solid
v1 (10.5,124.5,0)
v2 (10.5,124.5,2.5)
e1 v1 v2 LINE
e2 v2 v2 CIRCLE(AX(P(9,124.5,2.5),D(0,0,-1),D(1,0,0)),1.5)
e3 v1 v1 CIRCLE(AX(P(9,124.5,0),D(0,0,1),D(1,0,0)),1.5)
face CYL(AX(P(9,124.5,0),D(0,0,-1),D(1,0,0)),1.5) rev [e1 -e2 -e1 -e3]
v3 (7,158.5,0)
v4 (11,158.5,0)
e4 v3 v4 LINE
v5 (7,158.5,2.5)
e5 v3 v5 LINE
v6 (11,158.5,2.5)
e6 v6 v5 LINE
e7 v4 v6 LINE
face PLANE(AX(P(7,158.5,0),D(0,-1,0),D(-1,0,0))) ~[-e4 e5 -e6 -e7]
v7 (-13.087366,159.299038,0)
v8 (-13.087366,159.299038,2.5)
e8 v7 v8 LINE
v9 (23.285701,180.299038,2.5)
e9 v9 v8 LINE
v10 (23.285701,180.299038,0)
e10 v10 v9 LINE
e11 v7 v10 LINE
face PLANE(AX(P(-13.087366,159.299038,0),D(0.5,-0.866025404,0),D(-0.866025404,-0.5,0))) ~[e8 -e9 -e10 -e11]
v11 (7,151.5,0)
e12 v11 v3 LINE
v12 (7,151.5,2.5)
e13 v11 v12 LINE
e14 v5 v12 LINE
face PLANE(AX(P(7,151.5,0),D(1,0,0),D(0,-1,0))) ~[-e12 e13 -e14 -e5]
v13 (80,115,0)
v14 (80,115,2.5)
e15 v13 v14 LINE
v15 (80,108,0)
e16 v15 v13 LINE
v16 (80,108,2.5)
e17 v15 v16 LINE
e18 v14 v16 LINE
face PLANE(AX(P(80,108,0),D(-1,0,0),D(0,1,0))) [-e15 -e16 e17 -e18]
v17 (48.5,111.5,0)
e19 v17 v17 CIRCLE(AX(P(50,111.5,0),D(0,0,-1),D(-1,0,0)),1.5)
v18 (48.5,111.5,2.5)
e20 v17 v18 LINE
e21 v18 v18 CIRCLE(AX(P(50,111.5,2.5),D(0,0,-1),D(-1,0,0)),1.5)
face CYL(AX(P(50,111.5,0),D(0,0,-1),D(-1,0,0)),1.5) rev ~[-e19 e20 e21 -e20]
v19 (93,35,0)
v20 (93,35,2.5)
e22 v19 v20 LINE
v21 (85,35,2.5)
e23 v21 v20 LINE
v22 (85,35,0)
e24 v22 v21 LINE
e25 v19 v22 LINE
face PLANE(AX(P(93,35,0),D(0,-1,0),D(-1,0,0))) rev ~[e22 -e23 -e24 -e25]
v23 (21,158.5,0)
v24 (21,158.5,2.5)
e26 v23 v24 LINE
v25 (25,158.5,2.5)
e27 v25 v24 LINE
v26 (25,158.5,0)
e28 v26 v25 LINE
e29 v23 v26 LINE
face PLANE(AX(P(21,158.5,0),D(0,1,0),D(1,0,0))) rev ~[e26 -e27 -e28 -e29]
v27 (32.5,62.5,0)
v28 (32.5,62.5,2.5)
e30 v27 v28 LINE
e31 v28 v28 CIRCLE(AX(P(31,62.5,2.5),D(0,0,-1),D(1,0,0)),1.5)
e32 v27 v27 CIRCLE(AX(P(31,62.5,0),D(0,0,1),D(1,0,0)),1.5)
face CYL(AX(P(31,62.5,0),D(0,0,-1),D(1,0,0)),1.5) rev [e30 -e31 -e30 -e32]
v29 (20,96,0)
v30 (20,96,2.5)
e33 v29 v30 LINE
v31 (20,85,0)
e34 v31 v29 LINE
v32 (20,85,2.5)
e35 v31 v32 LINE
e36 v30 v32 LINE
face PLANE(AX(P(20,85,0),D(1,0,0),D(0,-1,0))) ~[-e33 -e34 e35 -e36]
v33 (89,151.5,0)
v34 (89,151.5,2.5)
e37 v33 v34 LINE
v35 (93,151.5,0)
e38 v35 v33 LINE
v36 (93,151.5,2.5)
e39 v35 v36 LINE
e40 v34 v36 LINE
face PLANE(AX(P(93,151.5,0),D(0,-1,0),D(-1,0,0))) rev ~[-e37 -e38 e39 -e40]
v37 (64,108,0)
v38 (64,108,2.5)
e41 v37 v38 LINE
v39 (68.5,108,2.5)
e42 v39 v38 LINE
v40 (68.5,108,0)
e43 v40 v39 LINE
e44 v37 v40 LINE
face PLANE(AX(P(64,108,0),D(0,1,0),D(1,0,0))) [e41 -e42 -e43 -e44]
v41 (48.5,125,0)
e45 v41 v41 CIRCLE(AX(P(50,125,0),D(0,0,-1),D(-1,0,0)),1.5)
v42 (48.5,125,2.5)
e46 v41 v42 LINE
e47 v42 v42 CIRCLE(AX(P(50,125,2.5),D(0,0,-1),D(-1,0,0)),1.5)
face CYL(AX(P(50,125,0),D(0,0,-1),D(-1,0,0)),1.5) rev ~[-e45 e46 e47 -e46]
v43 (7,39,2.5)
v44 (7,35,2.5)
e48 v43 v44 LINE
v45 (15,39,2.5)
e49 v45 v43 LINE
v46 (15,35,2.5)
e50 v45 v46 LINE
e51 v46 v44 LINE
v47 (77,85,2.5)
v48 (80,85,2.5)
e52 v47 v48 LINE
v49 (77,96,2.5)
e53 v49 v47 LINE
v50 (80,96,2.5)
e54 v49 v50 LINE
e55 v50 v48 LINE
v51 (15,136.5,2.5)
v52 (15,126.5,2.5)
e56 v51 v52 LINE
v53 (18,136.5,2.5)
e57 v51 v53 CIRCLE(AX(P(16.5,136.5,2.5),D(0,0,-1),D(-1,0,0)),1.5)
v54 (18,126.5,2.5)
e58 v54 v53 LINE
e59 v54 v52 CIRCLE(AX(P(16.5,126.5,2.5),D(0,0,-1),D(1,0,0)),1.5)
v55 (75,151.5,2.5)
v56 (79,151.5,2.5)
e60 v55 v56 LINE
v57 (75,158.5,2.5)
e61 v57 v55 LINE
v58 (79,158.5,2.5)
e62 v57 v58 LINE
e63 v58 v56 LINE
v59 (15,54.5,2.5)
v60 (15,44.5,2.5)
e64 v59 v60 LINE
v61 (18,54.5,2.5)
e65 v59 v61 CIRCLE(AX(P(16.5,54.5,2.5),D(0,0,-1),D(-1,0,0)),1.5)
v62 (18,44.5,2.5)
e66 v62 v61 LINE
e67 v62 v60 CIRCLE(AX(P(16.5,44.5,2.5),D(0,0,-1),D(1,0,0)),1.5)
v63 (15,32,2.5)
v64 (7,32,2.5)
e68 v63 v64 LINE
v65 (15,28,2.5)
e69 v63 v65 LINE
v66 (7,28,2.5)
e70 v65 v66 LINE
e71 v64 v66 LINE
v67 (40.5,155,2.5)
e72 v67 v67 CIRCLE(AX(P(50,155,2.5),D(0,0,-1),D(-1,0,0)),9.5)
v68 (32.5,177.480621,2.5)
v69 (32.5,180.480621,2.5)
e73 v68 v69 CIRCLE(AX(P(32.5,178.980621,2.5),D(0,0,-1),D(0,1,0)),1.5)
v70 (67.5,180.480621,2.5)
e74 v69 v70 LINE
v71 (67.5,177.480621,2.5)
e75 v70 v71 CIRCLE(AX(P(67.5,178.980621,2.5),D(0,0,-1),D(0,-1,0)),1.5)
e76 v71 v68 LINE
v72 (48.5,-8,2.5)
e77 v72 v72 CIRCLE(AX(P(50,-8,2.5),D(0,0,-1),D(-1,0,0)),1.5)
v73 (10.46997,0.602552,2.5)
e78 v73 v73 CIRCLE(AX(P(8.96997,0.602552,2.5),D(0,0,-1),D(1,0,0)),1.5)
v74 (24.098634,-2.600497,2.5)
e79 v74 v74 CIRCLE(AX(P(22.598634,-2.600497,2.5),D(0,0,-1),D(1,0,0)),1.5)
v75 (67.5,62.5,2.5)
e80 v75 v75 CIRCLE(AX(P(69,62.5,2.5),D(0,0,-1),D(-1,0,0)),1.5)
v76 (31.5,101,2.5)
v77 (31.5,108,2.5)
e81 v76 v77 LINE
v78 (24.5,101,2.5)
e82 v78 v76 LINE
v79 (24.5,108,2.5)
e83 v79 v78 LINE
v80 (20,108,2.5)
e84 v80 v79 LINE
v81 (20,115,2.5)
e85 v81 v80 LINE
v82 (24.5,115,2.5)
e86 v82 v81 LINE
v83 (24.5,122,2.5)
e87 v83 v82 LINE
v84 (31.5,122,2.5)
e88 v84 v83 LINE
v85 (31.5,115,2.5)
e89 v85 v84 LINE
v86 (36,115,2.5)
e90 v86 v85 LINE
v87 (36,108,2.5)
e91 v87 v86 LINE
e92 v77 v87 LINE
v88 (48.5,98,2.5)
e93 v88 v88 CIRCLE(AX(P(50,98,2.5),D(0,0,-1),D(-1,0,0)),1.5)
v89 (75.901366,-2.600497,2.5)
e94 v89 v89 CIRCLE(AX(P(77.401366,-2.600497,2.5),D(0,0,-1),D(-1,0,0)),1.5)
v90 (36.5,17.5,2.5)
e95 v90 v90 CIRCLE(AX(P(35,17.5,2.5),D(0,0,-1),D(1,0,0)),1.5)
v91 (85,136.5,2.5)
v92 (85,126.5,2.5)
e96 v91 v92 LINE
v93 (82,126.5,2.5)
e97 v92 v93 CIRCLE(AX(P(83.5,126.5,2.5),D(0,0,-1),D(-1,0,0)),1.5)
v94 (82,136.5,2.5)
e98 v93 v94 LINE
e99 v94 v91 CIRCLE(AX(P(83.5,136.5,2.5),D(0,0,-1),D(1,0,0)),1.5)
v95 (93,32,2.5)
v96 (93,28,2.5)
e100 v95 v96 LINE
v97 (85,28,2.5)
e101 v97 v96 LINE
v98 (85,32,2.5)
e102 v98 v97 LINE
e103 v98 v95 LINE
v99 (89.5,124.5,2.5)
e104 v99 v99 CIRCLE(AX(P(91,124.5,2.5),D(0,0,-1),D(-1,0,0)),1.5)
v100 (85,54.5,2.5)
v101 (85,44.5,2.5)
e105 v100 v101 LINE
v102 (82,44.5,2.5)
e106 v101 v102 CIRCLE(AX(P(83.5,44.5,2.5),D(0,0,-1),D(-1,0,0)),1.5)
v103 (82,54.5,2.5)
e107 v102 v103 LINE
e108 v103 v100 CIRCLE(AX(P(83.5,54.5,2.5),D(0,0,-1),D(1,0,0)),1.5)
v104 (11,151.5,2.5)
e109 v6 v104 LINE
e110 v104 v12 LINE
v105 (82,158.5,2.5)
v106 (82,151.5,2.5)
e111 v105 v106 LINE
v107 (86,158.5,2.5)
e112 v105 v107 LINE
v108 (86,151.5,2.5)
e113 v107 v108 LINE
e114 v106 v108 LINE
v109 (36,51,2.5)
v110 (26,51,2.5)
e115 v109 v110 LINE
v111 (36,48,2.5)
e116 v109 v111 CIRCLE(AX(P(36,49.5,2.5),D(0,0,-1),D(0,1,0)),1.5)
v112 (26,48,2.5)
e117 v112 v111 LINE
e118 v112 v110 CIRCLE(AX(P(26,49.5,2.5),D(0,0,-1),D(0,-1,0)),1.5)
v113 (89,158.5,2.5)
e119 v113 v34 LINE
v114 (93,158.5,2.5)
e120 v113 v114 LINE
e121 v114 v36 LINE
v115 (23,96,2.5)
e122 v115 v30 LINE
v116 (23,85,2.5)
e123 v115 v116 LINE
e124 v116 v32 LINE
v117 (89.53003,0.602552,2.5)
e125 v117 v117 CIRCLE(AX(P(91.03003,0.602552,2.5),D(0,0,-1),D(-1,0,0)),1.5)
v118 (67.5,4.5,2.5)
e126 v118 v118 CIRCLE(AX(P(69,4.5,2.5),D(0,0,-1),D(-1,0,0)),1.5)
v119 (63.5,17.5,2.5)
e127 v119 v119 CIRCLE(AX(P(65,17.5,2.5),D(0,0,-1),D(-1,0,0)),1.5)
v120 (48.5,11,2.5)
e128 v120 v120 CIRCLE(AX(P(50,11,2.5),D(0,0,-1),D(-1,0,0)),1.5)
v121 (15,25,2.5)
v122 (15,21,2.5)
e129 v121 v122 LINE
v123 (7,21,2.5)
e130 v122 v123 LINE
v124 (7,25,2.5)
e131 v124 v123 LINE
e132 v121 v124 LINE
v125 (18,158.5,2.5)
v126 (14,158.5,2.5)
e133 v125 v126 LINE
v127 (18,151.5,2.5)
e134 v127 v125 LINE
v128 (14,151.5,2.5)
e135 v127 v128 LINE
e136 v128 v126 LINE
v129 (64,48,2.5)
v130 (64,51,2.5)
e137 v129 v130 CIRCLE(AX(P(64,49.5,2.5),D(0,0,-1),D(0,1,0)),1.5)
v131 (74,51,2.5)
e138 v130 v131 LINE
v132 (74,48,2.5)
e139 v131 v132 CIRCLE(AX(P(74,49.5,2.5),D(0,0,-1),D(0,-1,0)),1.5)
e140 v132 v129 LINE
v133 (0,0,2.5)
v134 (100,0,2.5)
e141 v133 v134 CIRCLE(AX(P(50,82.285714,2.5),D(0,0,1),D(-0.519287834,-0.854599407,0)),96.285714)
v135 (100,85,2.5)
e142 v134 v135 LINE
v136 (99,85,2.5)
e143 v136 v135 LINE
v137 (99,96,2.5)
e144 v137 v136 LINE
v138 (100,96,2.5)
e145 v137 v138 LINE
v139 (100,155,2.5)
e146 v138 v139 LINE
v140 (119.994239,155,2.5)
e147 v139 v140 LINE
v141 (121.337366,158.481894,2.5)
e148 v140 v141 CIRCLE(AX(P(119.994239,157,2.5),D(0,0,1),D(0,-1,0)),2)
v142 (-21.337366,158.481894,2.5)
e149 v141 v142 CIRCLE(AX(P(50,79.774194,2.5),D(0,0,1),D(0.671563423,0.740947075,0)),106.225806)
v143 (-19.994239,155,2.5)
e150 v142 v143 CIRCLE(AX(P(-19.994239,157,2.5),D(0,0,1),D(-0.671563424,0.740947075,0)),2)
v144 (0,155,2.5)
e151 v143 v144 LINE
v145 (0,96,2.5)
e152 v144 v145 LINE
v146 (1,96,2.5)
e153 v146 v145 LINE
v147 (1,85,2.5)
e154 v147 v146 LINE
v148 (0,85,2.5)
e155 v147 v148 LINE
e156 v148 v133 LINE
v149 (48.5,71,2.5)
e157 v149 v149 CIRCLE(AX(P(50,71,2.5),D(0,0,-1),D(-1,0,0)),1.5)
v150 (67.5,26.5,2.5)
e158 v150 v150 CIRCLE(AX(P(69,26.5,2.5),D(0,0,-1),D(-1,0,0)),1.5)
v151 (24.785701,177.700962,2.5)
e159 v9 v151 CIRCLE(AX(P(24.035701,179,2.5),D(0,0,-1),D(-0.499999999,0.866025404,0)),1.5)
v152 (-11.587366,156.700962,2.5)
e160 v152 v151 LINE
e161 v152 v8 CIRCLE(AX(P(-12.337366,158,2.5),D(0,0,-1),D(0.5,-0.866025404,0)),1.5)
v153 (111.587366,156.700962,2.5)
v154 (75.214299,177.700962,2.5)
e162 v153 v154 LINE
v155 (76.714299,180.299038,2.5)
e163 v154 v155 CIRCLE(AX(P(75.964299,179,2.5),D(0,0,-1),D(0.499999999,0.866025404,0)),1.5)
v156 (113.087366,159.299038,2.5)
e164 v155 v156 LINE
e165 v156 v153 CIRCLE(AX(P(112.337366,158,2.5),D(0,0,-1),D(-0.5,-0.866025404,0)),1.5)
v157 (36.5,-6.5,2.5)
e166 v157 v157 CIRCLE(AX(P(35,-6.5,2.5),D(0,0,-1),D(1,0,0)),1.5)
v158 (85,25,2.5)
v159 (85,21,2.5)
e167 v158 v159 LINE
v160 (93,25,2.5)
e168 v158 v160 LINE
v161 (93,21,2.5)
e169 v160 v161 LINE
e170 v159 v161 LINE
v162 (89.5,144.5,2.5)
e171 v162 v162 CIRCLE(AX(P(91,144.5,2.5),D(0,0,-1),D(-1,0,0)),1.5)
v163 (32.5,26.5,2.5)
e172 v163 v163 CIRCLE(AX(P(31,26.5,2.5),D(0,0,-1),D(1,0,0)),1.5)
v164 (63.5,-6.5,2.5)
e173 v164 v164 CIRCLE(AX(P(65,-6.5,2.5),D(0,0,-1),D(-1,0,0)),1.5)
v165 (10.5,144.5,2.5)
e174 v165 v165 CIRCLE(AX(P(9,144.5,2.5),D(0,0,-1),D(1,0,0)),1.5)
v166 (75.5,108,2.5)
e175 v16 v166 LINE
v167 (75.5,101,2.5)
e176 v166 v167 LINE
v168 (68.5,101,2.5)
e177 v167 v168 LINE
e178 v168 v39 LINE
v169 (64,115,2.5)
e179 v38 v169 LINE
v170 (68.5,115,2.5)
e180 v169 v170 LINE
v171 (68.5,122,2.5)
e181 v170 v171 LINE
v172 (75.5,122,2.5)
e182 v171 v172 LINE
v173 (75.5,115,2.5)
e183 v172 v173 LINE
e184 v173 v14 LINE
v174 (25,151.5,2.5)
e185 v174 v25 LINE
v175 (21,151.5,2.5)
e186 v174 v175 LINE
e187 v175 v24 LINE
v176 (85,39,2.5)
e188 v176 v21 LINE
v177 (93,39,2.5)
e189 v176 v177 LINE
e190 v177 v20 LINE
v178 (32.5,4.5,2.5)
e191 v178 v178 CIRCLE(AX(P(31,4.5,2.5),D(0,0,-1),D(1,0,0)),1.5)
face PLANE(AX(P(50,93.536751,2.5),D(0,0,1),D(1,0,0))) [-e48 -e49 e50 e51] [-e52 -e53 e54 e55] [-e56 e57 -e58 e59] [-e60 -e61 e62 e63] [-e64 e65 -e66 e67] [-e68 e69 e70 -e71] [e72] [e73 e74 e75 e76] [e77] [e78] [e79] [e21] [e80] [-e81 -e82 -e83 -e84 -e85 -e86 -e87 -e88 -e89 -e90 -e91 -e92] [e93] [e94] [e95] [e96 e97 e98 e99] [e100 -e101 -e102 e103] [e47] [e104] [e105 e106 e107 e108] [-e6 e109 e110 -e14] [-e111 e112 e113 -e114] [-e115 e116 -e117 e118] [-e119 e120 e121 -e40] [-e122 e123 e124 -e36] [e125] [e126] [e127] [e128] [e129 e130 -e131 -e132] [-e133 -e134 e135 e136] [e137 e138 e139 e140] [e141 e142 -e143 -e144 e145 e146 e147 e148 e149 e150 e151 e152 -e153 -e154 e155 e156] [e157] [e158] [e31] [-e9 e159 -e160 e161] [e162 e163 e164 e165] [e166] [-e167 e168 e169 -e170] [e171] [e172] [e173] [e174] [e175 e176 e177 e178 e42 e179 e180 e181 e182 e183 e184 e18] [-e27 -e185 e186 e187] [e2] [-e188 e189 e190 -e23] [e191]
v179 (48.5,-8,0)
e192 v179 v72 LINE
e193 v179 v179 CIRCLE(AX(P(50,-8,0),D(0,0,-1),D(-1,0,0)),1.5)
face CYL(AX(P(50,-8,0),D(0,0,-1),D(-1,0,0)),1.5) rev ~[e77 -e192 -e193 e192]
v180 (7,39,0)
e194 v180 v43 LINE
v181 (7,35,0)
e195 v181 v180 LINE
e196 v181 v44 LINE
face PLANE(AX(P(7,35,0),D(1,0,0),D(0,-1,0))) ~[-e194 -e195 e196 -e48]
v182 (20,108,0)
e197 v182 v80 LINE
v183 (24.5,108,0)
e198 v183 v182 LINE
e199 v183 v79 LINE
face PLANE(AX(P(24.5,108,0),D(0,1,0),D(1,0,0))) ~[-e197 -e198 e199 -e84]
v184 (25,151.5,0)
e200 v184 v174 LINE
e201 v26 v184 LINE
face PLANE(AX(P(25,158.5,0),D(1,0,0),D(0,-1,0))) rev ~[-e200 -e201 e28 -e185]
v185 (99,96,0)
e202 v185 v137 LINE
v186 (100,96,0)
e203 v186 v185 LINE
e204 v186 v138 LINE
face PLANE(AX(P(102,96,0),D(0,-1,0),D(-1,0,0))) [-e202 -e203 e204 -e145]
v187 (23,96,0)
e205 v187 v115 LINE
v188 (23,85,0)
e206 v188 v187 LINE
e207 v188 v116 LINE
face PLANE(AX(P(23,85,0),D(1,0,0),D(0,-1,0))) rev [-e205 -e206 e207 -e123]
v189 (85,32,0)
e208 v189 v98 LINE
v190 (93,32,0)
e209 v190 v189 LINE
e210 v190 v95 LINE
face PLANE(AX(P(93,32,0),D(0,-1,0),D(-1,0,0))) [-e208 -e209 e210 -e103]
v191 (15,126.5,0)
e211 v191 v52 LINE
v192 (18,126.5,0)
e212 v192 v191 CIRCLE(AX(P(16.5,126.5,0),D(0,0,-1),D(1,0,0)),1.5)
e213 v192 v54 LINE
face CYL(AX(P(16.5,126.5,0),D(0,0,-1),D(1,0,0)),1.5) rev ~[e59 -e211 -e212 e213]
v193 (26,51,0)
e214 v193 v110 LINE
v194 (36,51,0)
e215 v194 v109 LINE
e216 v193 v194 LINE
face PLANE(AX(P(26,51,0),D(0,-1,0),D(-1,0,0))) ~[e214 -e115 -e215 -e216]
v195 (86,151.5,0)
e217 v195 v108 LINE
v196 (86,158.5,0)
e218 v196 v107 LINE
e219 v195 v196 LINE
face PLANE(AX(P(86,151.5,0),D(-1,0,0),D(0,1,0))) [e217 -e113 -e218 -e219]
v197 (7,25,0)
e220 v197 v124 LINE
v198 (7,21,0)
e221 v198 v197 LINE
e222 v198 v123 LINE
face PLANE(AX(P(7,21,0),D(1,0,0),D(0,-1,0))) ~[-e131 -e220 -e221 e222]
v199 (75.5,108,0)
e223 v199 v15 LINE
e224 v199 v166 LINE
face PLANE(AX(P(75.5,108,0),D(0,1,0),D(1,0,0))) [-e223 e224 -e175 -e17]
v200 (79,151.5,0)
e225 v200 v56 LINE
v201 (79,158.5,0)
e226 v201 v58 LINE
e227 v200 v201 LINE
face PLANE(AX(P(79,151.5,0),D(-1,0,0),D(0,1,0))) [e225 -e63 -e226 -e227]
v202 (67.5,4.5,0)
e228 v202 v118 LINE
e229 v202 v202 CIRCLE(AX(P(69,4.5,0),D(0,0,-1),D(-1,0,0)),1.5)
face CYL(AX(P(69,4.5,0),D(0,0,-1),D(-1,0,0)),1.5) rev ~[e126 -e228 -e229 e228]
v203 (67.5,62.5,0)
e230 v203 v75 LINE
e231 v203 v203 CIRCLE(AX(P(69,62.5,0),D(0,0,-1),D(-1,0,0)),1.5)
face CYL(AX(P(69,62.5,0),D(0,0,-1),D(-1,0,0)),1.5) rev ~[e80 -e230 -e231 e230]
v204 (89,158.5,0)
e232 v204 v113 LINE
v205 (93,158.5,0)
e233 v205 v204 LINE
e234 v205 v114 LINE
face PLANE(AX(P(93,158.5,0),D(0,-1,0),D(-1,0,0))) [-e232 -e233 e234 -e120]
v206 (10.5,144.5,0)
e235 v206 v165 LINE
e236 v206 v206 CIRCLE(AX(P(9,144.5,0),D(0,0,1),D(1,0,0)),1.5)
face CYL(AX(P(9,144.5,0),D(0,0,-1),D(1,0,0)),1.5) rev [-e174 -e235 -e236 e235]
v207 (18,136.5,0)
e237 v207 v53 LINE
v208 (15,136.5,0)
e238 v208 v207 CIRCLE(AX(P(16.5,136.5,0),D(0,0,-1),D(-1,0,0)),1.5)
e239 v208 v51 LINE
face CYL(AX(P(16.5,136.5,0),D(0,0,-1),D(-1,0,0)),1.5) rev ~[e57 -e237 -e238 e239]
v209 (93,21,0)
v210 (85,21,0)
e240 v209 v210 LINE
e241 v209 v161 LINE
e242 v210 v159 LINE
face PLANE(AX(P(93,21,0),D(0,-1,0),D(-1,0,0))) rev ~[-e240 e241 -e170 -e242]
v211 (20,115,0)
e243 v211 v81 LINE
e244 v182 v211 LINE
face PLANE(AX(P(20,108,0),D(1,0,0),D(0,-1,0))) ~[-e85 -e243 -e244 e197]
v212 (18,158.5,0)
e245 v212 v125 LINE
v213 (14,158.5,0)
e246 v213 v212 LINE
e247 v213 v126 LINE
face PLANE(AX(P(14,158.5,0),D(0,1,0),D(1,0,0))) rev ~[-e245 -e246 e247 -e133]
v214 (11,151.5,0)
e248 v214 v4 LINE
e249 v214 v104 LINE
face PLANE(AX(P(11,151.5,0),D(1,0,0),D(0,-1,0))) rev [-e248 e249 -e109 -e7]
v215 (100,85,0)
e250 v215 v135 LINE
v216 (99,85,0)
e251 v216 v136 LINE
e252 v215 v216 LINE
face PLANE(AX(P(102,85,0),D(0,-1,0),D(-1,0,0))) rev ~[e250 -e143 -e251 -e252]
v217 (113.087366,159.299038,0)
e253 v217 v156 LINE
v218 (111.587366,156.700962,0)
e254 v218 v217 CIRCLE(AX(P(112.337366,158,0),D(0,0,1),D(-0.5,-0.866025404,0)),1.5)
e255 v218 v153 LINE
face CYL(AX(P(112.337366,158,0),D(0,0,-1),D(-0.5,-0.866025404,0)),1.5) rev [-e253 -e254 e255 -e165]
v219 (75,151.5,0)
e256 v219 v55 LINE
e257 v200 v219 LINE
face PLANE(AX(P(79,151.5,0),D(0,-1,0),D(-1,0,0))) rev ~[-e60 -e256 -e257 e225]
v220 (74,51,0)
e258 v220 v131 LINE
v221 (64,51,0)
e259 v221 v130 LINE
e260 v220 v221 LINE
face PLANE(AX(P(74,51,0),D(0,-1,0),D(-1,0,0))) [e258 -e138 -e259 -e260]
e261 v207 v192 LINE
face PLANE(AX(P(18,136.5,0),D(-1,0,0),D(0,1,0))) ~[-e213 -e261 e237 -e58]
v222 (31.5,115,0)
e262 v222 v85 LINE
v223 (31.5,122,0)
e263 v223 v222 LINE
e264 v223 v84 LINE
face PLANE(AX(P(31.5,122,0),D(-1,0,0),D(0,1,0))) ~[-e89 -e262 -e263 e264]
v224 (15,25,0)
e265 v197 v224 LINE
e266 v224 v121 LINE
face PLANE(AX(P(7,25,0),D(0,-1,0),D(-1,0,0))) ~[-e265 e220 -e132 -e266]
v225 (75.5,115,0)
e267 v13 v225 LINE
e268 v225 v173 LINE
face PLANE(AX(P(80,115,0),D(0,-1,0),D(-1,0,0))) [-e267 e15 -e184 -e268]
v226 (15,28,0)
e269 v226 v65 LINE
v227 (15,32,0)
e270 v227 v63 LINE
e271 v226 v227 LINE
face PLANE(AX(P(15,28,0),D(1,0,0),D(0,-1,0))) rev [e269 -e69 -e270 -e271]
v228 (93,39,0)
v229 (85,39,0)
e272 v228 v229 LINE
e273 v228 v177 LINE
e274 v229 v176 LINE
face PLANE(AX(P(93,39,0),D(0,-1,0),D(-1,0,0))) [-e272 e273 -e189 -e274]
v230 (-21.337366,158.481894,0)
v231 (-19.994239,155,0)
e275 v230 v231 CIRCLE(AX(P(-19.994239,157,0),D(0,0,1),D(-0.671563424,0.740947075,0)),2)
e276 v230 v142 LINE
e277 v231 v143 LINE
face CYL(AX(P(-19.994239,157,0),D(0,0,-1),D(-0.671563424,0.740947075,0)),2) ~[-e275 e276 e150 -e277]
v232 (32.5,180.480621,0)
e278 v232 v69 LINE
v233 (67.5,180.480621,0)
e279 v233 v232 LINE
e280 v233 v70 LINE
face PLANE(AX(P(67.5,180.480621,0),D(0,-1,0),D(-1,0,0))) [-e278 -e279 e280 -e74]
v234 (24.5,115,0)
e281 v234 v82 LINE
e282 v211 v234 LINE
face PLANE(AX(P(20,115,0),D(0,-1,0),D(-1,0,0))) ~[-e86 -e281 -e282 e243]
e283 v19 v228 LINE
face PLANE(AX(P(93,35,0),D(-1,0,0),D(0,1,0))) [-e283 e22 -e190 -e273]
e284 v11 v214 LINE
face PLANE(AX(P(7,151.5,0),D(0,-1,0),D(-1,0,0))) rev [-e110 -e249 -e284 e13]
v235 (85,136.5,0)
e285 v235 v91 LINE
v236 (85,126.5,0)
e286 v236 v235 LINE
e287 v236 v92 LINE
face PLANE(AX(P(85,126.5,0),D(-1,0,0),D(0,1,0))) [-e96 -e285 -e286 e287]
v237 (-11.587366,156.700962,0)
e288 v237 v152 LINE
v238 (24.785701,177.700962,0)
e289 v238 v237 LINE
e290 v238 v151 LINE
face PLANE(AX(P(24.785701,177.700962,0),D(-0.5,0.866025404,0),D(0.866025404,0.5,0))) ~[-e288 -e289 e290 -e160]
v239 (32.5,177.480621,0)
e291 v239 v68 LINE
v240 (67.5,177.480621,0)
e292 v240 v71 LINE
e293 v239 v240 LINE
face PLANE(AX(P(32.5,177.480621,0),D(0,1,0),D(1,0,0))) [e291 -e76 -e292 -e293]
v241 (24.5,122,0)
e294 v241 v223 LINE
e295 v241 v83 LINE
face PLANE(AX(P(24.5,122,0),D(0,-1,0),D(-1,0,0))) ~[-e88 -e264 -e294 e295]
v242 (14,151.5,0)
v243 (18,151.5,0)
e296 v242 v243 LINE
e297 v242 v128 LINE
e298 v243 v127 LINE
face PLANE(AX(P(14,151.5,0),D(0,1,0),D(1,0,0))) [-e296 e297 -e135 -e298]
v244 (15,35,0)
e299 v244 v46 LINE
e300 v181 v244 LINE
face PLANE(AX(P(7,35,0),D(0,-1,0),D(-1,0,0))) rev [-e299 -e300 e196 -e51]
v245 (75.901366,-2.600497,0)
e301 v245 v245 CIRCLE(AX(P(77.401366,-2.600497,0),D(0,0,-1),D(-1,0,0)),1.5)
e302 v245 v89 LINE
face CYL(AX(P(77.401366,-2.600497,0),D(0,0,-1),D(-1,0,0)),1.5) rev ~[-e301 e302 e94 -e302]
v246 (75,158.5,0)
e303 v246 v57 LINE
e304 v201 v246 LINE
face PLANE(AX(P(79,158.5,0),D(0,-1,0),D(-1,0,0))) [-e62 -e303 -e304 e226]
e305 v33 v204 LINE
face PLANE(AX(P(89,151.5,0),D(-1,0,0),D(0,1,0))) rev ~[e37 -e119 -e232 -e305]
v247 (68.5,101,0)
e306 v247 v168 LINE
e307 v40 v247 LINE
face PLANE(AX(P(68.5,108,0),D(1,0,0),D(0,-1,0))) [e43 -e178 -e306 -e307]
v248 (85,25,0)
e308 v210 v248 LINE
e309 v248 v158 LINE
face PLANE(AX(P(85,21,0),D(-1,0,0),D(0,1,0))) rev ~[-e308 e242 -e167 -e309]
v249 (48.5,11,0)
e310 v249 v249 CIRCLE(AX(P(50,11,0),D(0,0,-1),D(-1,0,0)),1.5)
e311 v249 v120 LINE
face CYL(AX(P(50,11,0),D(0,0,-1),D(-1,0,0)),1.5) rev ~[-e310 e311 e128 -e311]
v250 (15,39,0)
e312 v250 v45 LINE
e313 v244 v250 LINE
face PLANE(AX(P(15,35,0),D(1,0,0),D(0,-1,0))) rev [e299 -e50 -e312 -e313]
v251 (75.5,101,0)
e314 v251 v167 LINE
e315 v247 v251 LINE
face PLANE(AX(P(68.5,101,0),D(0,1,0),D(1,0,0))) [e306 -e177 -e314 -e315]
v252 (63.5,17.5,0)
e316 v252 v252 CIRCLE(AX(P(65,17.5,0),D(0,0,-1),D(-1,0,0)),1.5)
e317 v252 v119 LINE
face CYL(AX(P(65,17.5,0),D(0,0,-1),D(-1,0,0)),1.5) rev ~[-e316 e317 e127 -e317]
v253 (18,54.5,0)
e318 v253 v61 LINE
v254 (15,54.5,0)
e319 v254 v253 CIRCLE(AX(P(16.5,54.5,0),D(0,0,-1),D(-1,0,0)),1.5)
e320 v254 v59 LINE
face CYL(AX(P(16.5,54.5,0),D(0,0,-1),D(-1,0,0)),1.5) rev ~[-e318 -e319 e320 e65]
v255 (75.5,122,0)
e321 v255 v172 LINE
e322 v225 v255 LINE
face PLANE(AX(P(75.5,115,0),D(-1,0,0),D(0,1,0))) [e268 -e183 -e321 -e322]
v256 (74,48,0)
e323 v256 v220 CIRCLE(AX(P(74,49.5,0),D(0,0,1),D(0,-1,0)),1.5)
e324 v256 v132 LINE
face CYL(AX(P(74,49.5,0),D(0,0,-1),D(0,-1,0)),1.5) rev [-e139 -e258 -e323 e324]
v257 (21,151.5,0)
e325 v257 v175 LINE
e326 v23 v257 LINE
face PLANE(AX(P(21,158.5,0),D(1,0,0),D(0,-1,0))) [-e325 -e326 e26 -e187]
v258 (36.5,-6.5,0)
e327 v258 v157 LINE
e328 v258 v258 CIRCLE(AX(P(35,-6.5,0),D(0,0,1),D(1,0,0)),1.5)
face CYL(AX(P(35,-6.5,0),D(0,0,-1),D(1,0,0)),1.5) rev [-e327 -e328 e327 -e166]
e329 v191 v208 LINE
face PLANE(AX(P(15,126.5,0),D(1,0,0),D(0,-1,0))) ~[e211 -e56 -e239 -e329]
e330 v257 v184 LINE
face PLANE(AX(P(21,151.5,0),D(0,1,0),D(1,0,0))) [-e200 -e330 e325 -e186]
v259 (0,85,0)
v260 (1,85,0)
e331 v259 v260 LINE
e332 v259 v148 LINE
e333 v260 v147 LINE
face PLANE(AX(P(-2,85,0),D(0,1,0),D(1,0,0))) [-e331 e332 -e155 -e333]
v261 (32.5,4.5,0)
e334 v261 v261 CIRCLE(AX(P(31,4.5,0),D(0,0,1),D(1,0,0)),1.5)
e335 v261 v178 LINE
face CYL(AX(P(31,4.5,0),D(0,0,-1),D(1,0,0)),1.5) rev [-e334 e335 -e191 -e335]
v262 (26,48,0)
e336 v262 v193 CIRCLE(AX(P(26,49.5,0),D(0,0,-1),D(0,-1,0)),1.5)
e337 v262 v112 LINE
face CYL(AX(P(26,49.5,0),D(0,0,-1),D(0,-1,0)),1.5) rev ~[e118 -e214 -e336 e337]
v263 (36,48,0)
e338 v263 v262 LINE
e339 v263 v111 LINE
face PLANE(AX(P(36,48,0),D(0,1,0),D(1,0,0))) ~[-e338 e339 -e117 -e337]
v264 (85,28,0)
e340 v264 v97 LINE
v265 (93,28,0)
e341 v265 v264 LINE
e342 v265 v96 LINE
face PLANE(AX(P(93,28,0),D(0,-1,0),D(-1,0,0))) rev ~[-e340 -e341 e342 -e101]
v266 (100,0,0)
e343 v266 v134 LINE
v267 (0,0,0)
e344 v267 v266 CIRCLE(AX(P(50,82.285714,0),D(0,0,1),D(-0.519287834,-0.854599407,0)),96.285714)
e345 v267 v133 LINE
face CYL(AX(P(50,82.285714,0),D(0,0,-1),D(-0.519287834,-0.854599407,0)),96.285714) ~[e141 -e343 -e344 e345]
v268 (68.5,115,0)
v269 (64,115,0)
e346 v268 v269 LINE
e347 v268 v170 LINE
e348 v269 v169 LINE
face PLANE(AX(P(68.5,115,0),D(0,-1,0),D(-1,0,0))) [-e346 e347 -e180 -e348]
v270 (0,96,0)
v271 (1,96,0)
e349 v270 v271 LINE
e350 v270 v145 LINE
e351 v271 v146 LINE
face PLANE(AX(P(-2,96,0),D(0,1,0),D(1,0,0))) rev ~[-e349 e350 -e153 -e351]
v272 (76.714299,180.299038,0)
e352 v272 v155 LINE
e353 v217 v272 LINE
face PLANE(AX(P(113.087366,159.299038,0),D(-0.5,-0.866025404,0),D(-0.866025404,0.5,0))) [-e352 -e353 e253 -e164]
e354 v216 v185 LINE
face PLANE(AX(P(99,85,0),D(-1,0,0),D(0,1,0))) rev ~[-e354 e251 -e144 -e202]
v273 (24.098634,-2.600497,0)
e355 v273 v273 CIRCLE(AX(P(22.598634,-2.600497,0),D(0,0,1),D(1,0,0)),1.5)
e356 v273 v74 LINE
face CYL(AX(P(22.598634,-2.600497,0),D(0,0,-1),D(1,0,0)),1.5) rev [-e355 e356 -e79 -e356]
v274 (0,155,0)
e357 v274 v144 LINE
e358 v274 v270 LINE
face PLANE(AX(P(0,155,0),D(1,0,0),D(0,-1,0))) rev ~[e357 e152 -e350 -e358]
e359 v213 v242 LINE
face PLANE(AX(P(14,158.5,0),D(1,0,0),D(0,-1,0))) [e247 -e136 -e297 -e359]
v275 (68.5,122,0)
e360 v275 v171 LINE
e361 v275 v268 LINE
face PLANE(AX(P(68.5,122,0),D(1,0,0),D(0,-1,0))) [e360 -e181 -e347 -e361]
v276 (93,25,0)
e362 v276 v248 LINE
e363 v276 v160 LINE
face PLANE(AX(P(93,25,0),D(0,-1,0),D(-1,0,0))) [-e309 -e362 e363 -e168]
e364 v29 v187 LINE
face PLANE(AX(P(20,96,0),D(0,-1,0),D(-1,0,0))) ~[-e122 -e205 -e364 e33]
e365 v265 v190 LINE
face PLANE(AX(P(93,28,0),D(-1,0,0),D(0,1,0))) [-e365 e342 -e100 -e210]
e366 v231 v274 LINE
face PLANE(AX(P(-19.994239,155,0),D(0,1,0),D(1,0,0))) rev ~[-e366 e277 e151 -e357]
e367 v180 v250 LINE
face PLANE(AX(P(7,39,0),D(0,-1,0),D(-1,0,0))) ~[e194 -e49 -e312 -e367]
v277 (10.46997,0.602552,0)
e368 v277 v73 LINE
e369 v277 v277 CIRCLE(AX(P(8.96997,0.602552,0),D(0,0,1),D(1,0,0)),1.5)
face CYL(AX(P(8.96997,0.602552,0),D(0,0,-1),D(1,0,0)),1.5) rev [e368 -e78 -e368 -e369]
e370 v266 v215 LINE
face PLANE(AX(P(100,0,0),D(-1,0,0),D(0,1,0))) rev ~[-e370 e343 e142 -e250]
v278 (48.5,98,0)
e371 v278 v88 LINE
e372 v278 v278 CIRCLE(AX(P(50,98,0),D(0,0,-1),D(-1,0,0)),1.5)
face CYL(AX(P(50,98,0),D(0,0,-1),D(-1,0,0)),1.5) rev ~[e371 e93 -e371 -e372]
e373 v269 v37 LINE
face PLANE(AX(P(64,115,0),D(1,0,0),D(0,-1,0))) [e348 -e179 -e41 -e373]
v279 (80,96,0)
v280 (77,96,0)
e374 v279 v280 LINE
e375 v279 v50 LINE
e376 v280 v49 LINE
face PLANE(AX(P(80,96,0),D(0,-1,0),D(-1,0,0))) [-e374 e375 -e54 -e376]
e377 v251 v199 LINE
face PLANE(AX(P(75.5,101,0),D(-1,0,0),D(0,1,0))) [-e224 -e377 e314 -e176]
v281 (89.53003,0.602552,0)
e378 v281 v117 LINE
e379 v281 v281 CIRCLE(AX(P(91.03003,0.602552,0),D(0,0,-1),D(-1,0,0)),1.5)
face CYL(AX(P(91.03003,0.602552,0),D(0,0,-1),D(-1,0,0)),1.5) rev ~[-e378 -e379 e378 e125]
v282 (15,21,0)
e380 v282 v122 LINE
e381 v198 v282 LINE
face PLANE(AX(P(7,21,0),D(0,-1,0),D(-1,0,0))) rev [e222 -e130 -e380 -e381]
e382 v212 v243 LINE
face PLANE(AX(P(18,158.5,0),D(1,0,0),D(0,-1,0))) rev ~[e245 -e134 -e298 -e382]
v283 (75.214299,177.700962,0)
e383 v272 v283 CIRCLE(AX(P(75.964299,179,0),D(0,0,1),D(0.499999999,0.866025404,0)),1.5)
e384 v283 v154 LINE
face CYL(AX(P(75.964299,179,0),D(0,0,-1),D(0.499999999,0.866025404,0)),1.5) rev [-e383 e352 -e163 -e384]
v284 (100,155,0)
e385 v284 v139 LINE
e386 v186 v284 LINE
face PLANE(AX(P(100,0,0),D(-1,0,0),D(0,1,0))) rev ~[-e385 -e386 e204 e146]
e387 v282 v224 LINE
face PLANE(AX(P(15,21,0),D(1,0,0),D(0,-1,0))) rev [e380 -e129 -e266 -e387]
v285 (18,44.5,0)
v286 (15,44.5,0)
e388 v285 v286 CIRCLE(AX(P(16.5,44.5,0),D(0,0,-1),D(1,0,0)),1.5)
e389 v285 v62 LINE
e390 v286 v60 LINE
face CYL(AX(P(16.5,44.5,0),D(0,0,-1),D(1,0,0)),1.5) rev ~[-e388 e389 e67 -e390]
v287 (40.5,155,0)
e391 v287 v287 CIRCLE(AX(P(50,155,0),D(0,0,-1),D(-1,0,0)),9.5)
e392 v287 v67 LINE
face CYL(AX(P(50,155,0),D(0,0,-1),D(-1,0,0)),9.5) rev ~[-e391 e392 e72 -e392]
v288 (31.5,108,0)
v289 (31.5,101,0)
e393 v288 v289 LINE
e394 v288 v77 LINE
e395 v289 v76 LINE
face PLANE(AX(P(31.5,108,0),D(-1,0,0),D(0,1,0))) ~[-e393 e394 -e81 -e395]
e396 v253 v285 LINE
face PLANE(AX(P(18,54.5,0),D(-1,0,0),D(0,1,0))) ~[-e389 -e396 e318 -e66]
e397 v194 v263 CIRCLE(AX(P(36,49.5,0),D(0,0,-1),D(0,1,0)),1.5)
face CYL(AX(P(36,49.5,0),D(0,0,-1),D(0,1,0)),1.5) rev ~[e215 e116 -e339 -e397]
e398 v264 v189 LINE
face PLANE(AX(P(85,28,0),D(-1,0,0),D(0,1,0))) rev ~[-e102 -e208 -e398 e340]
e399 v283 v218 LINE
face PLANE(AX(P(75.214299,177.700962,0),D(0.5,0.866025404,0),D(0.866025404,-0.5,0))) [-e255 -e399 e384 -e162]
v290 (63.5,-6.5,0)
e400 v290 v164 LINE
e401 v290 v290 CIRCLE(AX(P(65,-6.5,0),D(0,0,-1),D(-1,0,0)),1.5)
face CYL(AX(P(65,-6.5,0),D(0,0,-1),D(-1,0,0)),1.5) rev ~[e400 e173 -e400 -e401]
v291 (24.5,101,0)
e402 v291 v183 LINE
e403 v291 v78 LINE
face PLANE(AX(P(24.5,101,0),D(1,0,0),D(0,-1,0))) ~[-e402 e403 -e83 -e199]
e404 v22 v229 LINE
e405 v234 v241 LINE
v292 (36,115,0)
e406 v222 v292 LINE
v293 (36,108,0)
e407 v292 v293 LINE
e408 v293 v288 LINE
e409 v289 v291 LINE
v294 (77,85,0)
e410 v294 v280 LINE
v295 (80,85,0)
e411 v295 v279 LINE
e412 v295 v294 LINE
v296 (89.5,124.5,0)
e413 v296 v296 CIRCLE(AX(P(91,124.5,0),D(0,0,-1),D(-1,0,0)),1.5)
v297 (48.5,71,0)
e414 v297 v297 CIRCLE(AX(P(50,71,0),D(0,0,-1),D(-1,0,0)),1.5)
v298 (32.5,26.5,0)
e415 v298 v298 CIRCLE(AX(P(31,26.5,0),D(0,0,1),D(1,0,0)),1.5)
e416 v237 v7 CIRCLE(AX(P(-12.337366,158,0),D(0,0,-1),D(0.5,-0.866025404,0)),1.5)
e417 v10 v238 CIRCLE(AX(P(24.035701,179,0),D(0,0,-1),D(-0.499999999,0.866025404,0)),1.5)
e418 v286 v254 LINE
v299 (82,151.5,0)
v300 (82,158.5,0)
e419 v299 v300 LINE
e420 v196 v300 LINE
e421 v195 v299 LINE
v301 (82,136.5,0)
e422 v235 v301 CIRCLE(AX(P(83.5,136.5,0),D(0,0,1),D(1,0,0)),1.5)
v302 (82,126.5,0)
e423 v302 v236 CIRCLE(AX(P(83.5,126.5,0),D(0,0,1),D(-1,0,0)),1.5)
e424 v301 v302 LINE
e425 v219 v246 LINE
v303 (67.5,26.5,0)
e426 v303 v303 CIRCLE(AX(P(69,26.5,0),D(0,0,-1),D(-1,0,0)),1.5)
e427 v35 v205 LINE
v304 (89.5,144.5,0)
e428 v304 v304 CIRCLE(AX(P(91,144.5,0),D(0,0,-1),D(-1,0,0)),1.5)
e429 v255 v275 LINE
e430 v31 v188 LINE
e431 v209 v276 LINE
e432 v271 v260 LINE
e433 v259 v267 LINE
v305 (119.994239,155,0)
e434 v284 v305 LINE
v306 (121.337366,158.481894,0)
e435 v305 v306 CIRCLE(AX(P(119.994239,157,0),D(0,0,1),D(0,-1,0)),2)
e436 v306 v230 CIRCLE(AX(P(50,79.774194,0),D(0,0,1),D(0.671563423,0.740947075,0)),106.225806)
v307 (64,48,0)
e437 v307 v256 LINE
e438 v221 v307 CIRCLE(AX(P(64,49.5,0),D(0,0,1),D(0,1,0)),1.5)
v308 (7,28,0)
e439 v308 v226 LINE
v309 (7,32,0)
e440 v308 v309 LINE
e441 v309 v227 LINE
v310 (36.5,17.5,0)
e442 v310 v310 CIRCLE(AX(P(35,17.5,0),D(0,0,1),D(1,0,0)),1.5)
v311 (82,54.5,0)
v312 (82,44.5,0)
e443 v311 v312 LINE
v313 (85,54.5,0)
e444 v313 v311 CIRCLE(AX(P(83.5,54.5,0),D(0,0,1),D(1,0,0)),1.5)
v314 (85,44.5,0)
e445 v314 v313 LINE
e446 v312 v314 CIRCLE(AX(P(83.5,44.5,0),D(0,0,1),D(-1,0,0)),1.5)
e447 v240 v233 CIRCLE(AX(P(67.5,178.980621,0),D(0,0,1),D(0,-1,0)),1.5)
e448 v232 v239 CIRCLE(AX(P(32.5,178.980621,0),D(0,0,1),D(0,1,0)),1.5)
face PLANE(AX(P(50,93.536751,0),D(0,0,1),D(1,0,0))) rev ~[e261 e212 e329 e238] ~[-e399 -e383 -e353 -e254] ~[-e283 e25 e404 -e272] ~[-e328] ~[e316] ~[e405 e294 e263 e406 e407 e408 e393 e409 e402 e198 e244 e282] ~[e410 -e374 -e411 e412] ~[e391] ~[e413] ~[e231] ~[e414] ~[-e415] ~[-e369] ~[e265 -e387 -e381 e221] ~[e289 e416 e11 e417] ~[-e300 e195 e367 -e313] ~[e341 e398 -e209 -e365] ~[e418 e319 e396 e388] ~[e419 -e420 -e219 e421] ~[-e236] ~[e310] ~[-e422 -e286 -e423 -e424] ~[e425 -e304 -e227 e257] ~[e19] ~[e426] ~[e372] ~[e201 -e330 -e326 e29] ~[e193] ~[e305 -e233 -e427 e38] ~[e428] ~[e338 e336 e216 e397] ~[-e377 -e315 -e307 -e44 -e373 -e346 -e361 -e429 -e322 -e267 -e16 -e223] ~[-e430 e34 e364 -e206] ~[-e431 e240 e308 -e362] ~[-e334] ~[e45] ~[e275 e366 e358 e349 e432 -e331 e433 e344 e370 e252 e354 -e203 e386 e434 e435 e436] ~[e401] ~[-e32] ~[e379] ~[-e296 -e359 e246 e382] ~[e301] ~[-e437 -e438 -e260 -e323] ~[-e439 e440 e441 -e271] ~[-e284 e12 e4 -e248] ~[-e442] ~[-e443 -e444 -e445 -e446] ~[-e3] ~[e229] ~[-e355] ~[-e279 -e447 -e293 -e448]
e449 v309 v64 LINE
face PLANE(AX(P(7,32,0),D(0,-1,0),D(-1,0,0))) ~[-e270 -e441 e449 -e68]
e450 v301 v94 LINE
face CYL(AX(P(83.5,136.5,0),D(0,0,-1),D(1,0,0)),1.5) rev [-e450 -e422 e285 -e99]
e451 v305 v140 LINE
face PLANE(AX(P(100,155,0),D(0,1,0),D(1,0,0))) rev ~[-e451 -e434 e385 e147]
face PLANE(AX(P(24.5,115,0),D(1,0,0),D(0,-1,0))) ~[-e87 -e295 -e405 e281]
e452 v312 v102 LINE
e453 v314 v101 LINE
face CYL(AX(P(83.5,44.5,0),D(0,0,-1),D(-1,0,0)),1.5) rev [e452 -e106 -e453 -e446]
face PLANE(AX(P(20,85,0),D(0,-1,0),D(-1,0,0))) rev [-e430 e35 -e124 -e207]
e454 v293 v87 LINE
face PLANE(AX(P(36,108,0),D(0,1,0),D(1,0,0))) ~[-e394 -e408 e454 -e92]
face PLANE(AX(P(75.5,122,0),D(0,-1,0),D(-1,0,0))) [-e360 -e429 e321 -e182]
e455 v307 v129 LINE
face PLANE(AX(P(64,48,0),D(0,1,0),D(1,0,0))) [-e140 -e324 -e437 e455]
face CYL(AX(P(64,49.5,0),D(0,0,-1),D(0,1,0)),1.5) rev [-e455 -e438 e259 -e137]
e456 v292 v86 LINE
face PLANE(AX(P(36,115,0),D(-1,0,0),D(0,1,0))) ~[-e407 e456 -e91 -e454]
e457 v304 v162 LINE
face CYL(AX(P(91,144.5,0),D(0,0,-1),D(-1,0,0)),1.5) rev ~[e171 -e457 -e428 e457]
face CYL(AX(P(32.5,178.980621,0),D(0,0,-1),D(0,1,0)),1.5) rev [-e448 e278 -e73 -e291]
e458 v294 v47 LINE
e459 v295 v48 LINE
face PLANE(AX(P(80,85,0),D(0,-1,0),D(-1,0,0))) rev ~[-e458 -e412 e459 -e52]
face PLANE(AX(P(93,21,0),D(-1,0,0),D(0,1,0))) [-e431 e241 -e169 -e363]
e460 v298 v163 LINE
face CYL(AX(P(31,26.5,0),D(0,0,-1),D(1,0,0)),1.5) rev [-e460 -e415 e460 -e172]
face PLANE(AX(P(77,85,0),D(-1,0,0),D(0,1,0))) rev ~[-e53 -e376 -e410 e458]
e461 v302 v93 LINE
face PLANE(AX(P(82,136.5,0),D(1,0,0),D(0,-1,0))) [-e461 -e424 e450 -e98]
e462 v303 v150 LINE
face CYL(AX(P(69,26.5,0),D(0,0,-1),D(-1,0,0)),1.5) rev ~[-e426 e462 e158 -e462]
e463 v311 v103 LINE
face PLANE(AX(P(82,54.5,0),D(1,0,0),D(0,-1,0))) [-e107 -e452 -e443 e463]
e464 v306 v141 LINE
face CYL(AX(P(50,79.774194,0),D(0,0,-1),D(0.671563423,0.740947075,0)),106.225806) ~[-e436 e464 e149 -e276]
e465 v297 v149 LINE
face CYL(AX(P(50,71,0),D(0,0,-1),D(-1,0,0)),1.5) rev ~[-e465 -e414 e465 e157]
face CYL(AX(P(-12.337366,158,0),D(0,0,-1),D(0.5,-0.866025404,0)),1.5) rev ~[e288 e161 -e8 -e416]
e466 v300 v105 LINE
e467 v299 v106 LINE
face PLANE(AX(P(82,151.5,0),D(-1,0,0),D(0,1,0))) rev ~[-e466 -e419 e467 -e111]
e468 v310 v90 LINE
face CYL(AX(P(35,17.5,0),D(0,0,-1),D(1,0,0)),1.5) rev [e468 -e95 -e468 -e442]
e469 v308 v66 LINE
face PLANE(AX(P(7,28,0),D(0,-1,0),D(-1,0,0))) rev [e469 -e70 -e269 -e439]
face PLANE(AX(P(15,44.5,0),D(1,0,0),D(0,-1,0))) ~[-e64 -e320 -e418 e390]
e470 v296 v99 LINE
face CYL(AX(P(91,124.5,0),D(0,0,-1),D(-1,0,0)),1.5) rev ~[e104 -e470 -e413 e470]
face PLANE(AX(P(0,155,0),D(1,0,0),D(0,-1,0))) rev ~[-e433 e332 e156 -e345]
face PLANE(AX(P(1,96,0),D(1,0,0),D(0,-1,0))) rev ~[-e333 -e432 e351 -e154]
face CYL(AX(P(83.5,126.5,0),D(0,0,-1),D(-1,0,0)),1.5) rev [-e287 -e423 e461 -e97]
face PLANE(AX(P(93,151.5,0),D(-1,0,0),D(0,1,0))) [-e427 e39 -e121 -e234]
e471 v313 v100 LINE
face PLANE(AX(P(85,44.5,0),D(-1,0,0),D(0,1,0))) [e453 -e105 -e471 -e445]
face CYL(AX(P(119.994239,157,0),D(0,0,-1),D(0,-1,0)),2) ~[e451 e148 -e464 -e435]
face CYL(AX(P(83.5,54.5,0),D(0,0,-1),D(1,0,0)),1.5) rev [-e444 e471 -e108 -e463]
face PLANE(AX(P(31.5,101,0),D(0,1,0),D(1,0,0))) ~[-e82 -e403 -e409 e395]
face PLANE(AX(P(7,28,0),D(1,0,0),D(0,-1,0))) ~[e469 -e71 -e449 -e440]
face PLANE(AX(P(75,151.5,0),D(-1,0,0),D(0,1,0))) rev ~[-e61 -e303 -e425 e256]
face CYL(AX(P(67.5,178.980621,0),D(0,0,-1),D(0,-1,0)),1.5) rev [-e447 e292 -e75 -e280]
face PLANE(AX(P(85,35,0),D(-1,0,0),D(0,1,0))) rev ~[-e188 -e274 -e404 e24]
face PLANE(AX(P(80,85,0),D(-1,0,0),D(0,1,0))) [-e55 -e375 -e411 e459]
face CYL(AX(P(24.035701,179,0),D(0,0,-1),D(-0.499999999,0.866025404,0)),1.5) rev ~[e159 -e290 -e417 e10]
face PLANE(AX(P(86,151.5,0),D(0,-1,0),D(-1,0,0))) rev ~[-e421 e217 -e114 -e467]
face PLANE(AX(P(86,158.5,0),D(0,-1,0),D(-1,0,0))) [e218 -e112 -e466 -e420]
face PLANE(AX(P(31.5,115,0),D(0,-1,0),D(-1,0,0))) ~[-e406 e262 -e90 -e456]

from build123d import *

# Parameters (mm, degrees)
BOSS_EXTRU_1_DEPTH         = 2.5
ESQUISSE2_R                = 9.5
ENL_V_MAT_EXTRU_1_DEPTH    = 3.5
ESQUISSE3_W                = 4
ESQUISSE3_H                = 7
ENL_V_MAT_EXTRU_2_DEPTH    = 3.5
R_P_TITION_LIN_AIRE1_COUNT = 3
R_P_TITION_LIN_AIRE1_PITCH = 7
ENL_V_MAT_EXTRU_3_DEPTH    = 3.5
ESQUISSE5_W                = 3
ESQUISSE5_H                = 11
ENL_V_MAT_EXTRU_4_DEPTH    = 3.5
R_P_TITION_LIN_AIRE2_COUNT = 2
R_P_TITION_LIN_AIRE2_PITCH = 22
ESQUISSE6_R                = 1.5
ENL_V_MAT_EXTRU_5_DEPTH    = 3.5
ESQUISSE7_W                = 8
ESQUISSE7_H                = 4
ENL_V_MAT_EXTRU_6_DEPTH    = 3.5
SYM_TRIE1_COPY_1_SKETCH_W  = 3
SYM_TRIE1_COPY_1_SKETCH_H  = 11
SYM_TRIE1_COPY_1_DEPTH     = 3.5
SYM_TRIE1_COPY_2_SKETCH_W  = 4
SYM_TRIE1_COPY_2_SKETCH_H  = 7
SYM_TRIE1_COPY_2_DEPTH     = 3.5
SYM_TRIE1_COPY_3_SKETCH_W  = 4
SYM_TRIE1_COPY_3_SKETCH_H  = 7
SYM_TRIE1_COPY_3_DEPTH     = 3.5
ESQUISSE8_R                = 1.5
ENL_V_MAT_EXTRU_7_DEPTH    = 10


with BuildPart() as part:
    # Esquisse1 → Boss.-Extru.1 (new body)
    with BuildSketch(Plane.XY):
        with BuildLine():
            Line((100, 155), (119.994239394, 155))
            ThreePointArc((119.994239394, 155), (121.860222821, 156.2802043), (121.337366241, 158.48189415))
            ThreePointArc((121.337366241, 158.48189415), (50, 186), (-21.337366241, 158.48189415))
            ThreePointArc((-21.337366241, 158.48189415), (-21.860222821, 156.2802043), (-19.994239394, 155))
            Line((-19.994239394, 155), (0, 155))
            Line((0, 155), (0, 0))
            ThreePointArc((0, 0), (50, -14), (100, 0))
            Line((100, 0), (100, 155))
        make_face()
    extrude(amount=BOSS_EXTRU_1_DEPTH)

    # Esquisse2 → Enlèv. mat.-Extru.1 (cut, through all)
    with BuildSketch(Plane(origin=(0, 0, 0), x_dir=(-1, 0, 0), z_dir=(0, 0, -1))):
        with Locations((-50, 155)):
            Circle(ESQUISSE2_R)
    extrude(amount=-ENL_V_MAT_EXTRU_1_DEPTH, mode=Mode.SUBTRACT)

    # Esquisse3 → Enlèv. mat.-Extru.2 (cut, through all)
    with BuildSketch(Plane(origin=(0, 0, 0), x_dir=(-1, 0, 0), z_dir=(0, 0, -1))):
        with Locations((-91, 155)):
            Rectangle(ESQUISSE3_W, ESQUISSE3_H)
    enl_v_mat_extru_2 = extrude(amount=-ENL_V_MAT_EXTRU_2_DEPTH, mode=Mode.SUBTRACT)

    # Répétition linéaire1: Enlèv. mat.-Extru.2 ×3
    with Locations(*[(-i * R_P_TITION_LIN_AIRE1_PITCH, 0, 0) for i in range(1, R_P_TITION_LIN_AIRE1_COUNT)]):
        add(enl_v_mat_extru_2, mode=Mode.SUBTRACT)

    # Esquisse4 → Enlèv. mat.-Extru.3 (cut, through all)
    with BuildSketch(Plane(origin=(0, 0, 0), x_dir=(-1, 0, 0), z_dir=(0, 0, -1))):
        Polygon((-75.5, 122), (-68.5, 122), (-68.5, 115), (-64, 115), (-64, 108), (-68.5, 108), (-68.5, 101), (-75.5, 101), (-75.5, 108), (-80, 108), (-80, 115), (-75.5, 115), align=None)
    enl_v_mat_extru_3 = extrude(amount=-ENL_V_MAT_EXTRU_3_DEPTH, mode=Mode.SUBTRACT)

    # Esquisse5 → Enlèv. mat.-Extru.4 (cut, through all)
    with BuildSketch(Plane(origin=(0, 0, 0), x_dir=(-1, 0, 0), z_dir=(0, 0, -1))):
        with Locations((-78.5, 90.5)):
            Rectangle(ESQUISSE5_W, ESQUISSE5_H)
    enl_v_mat_extru_4 = extrude(amount=-ENL_V_MAT_EXTRU_4_DEPTH, mode=Mode.SUBTRACT)

    # Répétition linéaire2: Enlèv. mat.-Extru.4 ×2
    with Locations(*[(i * R_P_TITION_LIN_AIRE2_PITCH, 0, 0) for i in range(1, R_P_TITION_LIN_AIRE2_COUNT)]):
        add(enl_v_mat_extru_4, mode=Mode.SUBTRACT)

    # Esquisse6 → Enlèv. mat.-Extru.5 (cut, through all)
    with BuildSketch(Plane(origin=(0, 0, 0), x_dir=(-1, 0, 0), z_dir=(0, 0, -1))):
        with Locations((-91, 144.5)):
            Circle(ESQUISSE6_R)
        with Locations((-91, 124.5)):
            Circle(ESQUISSE6_R)
        with Locations((-65, 17.5)):
            Circle(ESQUISSE6_R)
        with Locations((-69, 26.5)):
            Circle(ESQUISSE6_R)
        with Locations((-91.030029605, 0.602552335)):
            Circle(ESQUISSE6_R)
        with Locations((-77.401365798, -2.600496654)):
            Circle(ESQUISSE6_R)
        with Locations((-69, 4.5)):
            Circle(ESQUISSE6_R)
        with Locations((-65, -6.5)):
            Circle(ESQUISSE6_R)
        with Locations((-69, 62.5)):
            Circle(ESQUISSE6_R)
        with BuildLine():
            Line((-82, 54.5), (-82, 44.5))
            ThreePointArc((-82, 44.5), (-83.5, 43), (-85, 44.5))
            Line((-85, 44.5), (-85, 54.5))
            ThreePointArc((-85, 54.5), (-83.5, 56), (-82, 54.5))
        make_face()
        with BuildLine():
            Line((-74, 51), (-64, 51))
            ThreePointArc((-64, 51), (-62.5, 49.5), (-64, 48))
            Line((-64, 48), (-74, 48))
            ThreePointArc((-74, 48), (-75.5, 49.5), (-74, 51))
        make_face()
        with BuildLine():
            Line((-82, 136.5), (-82, 126.5))
            ThreePointArc((-82, 126.5), (-83.5, 125), (-85, 126.5))
            Line((-85, 126.5), (-85, 136.5))
            ThreePointArc((-85, 136.5), (-83.5, 138), (-82, 136.5))
        make_face()
        with BuildLine():
            Line((-113.087366241, 159.299038106), (-76.714299282, 180.299038106))
            ThreePointArc((-76.714299282, 180.299038106), (-74.665261177, 179.75), (-75.214299282, 177.700961894))
            Line((-75.214299282, 177.700961894), (-111.587366241, 156.700961894))
            ThreePointArc((-111.587366241, 156.700961894), (-113.636404347, 157.25), (-113.087366241, 159.299038106))
        make_face()
    enl_v_mat_extru_5 = extrude(amount=-ENL_V_MAT_EXTRU_5_DEPTH, mode=Mode.SUBTRACT)

    # Esquisse7 → Enlèv. mat.-Extru.6 (cut, through all)
    with BuildSketch(Plane(origin=(0, 0, 0), x_dir=(-1, 0, 0), z_dir=(0, 0, -1))):
        with Locations((-89, 37)):
            Rectangle(ESQUISSE7_W, ESQUISSE7_H)
        with Locations((-89, 30)):
            Rectangle(ESQUISSE7_W, ESQUISSE7_H)
        with Locations((-89, 23)):
            Rectangle(ESQUISSE7_W, ESQUISSE7_H)
    enl_v_mat_extru_6 = extrude(amount=-ENL_V_MAT_EXTRU_6_DEPTH, mode=Mode.SUBTRACT)

    # Symétrie1: Enlèv. mat.-Extru.2, Enlèv. mat.-Extru.3, Enlèv. mat.-Extru.4, Enlèv. mat.-Extru.5, Enlèv. mat.-Extru.6 across plane
    add(enl_v_mat_extru_2.mirror(Plane(origin=(50, 0, 0), x_dir=(0, 0, 1), z_dir=(1, 0, 0))), mode=Mode.SUBTRACT)
    add(enl_v_mat_extru_3.mirror(Plane(origin=(50, 0, 0), x_dir=(0, 0, 1), z_dir=(1, 0, 0))), mode=Mode.SUBTRACT)
    add(enl_v_mat_extru_4.mirror(Plane(origin=(50, 0, 0), x_dir=(0, 0, 1), z_dir=(1, 0, 0))), mode=Mode.SUBTRACT)
    add(enl_v_mat_extru_5.mirror(Plane(origin=(50, 0, 0), x_dir=(0, 0, 1), z_dir=(1, 0, 0))), mode=Mode.SUBTRACT)
    add(enl_v_mat_extru_6.mirror(Plane(origin=(50, 0, 0), x_dir=(0, 0, 1), z_dir=(1, 0, 0))), mode=Mode.SUBTRACT)

    # Symétrie1 copy 1 sketch → Symétrie1 copy 1 (cut, through all)
    with BuildSketch(Plane(origin=(78, 0, 0), x_dir=(1, 0, 0), z_dir=(0, 0, -1))):
        with Locations((-78.5, -90.5)):
            Rectangle(SYM_TRIE1_COPY_1_SKETCH_W, SYM_TRIE1_COPY_1_SKETCH_H)
    extrude(amount=-SYM_TRIE1_COPY_1_DEPTH, mode=Mode.SUBTRACT)

    # Symétrie1 copy 2 sketch → Symétrie1 copy 2 (cut, through all)
    with BuildSketch(Plane(origin=(107, 0, 0), x_dir=(1, 0, 0), z_dir=(0, 0, -1))):
        with Locations((-91, -155)):
            Rectangle(SYM_TRIE1_COPY_2_SKETCH_W, SYM_TRIE1_COPY_2_SKETCH_H)
    extrude(amount=-SYM_TRIE1_COPY_2_DEPTH, mode=Mode.SUBTRACT)

    # Symétrie1 copy 3 sketch → Symétrie1 copy 3 (cut, through all)
    with BuildSketch(Plane(origin=(114, 0, 0), x_dir=(1, 0, 0), z_dir=(0, 0, -1))):
        with Locations((-91, -155)):
            Rectangle(SYM_TRIE1_COPY_3_SKETCH_W, SYM_TRIE1_COPY_3_SKETCH_H)
    extrude(amount=-SYM_TRIE1_COPY_3_DEPTH, mode=Mode.SUBTRACT)

    # Esquisse8 → Enlèv. mat.-Extru.7 (cut)
    with BuildSketch(Plane(origin=(0, 0, 0), x_dir=(-1, 0, 0), z_dir=(0, 0, -1))):
        with Locations((-50, 111.5)):
            Circle(ESQUISSE8_R)
        with Locations((-50, 125)):
            Circle(ESQUISSE8_R)
        with Locations((-50, 98)):
            Circle(ESQUISSE8_R)
        with Locations((-50, 71)):
            Circle(ESQUISSE8_R)
        with Locations((-50, -8)):
            Circle(ESQUISSE8_R)
        with Locations((-50, 11)):
            Circle(ESQUISSE8_R)
        with BuildLine():
            Line((-67.5, 180.480620573), (-32.5, 180.480620573))
            ThreePointArc((-32.5, 180.480620573), (-31, 178.980620573), (-32.5, 177.480620573))
            Line((-32.5, 177.480620573), (-67.5, 177.480620573))
            ThreePointArc((-67.5, 177.480620573), (-69, 178.980620573), (-67.5, 180.480620573))
        make_face()
    extrude(amount=-ENL_V_MAT_EXTRU_7_DEPTH, mode=Mode.SUBTRACT)


solid = part.part
